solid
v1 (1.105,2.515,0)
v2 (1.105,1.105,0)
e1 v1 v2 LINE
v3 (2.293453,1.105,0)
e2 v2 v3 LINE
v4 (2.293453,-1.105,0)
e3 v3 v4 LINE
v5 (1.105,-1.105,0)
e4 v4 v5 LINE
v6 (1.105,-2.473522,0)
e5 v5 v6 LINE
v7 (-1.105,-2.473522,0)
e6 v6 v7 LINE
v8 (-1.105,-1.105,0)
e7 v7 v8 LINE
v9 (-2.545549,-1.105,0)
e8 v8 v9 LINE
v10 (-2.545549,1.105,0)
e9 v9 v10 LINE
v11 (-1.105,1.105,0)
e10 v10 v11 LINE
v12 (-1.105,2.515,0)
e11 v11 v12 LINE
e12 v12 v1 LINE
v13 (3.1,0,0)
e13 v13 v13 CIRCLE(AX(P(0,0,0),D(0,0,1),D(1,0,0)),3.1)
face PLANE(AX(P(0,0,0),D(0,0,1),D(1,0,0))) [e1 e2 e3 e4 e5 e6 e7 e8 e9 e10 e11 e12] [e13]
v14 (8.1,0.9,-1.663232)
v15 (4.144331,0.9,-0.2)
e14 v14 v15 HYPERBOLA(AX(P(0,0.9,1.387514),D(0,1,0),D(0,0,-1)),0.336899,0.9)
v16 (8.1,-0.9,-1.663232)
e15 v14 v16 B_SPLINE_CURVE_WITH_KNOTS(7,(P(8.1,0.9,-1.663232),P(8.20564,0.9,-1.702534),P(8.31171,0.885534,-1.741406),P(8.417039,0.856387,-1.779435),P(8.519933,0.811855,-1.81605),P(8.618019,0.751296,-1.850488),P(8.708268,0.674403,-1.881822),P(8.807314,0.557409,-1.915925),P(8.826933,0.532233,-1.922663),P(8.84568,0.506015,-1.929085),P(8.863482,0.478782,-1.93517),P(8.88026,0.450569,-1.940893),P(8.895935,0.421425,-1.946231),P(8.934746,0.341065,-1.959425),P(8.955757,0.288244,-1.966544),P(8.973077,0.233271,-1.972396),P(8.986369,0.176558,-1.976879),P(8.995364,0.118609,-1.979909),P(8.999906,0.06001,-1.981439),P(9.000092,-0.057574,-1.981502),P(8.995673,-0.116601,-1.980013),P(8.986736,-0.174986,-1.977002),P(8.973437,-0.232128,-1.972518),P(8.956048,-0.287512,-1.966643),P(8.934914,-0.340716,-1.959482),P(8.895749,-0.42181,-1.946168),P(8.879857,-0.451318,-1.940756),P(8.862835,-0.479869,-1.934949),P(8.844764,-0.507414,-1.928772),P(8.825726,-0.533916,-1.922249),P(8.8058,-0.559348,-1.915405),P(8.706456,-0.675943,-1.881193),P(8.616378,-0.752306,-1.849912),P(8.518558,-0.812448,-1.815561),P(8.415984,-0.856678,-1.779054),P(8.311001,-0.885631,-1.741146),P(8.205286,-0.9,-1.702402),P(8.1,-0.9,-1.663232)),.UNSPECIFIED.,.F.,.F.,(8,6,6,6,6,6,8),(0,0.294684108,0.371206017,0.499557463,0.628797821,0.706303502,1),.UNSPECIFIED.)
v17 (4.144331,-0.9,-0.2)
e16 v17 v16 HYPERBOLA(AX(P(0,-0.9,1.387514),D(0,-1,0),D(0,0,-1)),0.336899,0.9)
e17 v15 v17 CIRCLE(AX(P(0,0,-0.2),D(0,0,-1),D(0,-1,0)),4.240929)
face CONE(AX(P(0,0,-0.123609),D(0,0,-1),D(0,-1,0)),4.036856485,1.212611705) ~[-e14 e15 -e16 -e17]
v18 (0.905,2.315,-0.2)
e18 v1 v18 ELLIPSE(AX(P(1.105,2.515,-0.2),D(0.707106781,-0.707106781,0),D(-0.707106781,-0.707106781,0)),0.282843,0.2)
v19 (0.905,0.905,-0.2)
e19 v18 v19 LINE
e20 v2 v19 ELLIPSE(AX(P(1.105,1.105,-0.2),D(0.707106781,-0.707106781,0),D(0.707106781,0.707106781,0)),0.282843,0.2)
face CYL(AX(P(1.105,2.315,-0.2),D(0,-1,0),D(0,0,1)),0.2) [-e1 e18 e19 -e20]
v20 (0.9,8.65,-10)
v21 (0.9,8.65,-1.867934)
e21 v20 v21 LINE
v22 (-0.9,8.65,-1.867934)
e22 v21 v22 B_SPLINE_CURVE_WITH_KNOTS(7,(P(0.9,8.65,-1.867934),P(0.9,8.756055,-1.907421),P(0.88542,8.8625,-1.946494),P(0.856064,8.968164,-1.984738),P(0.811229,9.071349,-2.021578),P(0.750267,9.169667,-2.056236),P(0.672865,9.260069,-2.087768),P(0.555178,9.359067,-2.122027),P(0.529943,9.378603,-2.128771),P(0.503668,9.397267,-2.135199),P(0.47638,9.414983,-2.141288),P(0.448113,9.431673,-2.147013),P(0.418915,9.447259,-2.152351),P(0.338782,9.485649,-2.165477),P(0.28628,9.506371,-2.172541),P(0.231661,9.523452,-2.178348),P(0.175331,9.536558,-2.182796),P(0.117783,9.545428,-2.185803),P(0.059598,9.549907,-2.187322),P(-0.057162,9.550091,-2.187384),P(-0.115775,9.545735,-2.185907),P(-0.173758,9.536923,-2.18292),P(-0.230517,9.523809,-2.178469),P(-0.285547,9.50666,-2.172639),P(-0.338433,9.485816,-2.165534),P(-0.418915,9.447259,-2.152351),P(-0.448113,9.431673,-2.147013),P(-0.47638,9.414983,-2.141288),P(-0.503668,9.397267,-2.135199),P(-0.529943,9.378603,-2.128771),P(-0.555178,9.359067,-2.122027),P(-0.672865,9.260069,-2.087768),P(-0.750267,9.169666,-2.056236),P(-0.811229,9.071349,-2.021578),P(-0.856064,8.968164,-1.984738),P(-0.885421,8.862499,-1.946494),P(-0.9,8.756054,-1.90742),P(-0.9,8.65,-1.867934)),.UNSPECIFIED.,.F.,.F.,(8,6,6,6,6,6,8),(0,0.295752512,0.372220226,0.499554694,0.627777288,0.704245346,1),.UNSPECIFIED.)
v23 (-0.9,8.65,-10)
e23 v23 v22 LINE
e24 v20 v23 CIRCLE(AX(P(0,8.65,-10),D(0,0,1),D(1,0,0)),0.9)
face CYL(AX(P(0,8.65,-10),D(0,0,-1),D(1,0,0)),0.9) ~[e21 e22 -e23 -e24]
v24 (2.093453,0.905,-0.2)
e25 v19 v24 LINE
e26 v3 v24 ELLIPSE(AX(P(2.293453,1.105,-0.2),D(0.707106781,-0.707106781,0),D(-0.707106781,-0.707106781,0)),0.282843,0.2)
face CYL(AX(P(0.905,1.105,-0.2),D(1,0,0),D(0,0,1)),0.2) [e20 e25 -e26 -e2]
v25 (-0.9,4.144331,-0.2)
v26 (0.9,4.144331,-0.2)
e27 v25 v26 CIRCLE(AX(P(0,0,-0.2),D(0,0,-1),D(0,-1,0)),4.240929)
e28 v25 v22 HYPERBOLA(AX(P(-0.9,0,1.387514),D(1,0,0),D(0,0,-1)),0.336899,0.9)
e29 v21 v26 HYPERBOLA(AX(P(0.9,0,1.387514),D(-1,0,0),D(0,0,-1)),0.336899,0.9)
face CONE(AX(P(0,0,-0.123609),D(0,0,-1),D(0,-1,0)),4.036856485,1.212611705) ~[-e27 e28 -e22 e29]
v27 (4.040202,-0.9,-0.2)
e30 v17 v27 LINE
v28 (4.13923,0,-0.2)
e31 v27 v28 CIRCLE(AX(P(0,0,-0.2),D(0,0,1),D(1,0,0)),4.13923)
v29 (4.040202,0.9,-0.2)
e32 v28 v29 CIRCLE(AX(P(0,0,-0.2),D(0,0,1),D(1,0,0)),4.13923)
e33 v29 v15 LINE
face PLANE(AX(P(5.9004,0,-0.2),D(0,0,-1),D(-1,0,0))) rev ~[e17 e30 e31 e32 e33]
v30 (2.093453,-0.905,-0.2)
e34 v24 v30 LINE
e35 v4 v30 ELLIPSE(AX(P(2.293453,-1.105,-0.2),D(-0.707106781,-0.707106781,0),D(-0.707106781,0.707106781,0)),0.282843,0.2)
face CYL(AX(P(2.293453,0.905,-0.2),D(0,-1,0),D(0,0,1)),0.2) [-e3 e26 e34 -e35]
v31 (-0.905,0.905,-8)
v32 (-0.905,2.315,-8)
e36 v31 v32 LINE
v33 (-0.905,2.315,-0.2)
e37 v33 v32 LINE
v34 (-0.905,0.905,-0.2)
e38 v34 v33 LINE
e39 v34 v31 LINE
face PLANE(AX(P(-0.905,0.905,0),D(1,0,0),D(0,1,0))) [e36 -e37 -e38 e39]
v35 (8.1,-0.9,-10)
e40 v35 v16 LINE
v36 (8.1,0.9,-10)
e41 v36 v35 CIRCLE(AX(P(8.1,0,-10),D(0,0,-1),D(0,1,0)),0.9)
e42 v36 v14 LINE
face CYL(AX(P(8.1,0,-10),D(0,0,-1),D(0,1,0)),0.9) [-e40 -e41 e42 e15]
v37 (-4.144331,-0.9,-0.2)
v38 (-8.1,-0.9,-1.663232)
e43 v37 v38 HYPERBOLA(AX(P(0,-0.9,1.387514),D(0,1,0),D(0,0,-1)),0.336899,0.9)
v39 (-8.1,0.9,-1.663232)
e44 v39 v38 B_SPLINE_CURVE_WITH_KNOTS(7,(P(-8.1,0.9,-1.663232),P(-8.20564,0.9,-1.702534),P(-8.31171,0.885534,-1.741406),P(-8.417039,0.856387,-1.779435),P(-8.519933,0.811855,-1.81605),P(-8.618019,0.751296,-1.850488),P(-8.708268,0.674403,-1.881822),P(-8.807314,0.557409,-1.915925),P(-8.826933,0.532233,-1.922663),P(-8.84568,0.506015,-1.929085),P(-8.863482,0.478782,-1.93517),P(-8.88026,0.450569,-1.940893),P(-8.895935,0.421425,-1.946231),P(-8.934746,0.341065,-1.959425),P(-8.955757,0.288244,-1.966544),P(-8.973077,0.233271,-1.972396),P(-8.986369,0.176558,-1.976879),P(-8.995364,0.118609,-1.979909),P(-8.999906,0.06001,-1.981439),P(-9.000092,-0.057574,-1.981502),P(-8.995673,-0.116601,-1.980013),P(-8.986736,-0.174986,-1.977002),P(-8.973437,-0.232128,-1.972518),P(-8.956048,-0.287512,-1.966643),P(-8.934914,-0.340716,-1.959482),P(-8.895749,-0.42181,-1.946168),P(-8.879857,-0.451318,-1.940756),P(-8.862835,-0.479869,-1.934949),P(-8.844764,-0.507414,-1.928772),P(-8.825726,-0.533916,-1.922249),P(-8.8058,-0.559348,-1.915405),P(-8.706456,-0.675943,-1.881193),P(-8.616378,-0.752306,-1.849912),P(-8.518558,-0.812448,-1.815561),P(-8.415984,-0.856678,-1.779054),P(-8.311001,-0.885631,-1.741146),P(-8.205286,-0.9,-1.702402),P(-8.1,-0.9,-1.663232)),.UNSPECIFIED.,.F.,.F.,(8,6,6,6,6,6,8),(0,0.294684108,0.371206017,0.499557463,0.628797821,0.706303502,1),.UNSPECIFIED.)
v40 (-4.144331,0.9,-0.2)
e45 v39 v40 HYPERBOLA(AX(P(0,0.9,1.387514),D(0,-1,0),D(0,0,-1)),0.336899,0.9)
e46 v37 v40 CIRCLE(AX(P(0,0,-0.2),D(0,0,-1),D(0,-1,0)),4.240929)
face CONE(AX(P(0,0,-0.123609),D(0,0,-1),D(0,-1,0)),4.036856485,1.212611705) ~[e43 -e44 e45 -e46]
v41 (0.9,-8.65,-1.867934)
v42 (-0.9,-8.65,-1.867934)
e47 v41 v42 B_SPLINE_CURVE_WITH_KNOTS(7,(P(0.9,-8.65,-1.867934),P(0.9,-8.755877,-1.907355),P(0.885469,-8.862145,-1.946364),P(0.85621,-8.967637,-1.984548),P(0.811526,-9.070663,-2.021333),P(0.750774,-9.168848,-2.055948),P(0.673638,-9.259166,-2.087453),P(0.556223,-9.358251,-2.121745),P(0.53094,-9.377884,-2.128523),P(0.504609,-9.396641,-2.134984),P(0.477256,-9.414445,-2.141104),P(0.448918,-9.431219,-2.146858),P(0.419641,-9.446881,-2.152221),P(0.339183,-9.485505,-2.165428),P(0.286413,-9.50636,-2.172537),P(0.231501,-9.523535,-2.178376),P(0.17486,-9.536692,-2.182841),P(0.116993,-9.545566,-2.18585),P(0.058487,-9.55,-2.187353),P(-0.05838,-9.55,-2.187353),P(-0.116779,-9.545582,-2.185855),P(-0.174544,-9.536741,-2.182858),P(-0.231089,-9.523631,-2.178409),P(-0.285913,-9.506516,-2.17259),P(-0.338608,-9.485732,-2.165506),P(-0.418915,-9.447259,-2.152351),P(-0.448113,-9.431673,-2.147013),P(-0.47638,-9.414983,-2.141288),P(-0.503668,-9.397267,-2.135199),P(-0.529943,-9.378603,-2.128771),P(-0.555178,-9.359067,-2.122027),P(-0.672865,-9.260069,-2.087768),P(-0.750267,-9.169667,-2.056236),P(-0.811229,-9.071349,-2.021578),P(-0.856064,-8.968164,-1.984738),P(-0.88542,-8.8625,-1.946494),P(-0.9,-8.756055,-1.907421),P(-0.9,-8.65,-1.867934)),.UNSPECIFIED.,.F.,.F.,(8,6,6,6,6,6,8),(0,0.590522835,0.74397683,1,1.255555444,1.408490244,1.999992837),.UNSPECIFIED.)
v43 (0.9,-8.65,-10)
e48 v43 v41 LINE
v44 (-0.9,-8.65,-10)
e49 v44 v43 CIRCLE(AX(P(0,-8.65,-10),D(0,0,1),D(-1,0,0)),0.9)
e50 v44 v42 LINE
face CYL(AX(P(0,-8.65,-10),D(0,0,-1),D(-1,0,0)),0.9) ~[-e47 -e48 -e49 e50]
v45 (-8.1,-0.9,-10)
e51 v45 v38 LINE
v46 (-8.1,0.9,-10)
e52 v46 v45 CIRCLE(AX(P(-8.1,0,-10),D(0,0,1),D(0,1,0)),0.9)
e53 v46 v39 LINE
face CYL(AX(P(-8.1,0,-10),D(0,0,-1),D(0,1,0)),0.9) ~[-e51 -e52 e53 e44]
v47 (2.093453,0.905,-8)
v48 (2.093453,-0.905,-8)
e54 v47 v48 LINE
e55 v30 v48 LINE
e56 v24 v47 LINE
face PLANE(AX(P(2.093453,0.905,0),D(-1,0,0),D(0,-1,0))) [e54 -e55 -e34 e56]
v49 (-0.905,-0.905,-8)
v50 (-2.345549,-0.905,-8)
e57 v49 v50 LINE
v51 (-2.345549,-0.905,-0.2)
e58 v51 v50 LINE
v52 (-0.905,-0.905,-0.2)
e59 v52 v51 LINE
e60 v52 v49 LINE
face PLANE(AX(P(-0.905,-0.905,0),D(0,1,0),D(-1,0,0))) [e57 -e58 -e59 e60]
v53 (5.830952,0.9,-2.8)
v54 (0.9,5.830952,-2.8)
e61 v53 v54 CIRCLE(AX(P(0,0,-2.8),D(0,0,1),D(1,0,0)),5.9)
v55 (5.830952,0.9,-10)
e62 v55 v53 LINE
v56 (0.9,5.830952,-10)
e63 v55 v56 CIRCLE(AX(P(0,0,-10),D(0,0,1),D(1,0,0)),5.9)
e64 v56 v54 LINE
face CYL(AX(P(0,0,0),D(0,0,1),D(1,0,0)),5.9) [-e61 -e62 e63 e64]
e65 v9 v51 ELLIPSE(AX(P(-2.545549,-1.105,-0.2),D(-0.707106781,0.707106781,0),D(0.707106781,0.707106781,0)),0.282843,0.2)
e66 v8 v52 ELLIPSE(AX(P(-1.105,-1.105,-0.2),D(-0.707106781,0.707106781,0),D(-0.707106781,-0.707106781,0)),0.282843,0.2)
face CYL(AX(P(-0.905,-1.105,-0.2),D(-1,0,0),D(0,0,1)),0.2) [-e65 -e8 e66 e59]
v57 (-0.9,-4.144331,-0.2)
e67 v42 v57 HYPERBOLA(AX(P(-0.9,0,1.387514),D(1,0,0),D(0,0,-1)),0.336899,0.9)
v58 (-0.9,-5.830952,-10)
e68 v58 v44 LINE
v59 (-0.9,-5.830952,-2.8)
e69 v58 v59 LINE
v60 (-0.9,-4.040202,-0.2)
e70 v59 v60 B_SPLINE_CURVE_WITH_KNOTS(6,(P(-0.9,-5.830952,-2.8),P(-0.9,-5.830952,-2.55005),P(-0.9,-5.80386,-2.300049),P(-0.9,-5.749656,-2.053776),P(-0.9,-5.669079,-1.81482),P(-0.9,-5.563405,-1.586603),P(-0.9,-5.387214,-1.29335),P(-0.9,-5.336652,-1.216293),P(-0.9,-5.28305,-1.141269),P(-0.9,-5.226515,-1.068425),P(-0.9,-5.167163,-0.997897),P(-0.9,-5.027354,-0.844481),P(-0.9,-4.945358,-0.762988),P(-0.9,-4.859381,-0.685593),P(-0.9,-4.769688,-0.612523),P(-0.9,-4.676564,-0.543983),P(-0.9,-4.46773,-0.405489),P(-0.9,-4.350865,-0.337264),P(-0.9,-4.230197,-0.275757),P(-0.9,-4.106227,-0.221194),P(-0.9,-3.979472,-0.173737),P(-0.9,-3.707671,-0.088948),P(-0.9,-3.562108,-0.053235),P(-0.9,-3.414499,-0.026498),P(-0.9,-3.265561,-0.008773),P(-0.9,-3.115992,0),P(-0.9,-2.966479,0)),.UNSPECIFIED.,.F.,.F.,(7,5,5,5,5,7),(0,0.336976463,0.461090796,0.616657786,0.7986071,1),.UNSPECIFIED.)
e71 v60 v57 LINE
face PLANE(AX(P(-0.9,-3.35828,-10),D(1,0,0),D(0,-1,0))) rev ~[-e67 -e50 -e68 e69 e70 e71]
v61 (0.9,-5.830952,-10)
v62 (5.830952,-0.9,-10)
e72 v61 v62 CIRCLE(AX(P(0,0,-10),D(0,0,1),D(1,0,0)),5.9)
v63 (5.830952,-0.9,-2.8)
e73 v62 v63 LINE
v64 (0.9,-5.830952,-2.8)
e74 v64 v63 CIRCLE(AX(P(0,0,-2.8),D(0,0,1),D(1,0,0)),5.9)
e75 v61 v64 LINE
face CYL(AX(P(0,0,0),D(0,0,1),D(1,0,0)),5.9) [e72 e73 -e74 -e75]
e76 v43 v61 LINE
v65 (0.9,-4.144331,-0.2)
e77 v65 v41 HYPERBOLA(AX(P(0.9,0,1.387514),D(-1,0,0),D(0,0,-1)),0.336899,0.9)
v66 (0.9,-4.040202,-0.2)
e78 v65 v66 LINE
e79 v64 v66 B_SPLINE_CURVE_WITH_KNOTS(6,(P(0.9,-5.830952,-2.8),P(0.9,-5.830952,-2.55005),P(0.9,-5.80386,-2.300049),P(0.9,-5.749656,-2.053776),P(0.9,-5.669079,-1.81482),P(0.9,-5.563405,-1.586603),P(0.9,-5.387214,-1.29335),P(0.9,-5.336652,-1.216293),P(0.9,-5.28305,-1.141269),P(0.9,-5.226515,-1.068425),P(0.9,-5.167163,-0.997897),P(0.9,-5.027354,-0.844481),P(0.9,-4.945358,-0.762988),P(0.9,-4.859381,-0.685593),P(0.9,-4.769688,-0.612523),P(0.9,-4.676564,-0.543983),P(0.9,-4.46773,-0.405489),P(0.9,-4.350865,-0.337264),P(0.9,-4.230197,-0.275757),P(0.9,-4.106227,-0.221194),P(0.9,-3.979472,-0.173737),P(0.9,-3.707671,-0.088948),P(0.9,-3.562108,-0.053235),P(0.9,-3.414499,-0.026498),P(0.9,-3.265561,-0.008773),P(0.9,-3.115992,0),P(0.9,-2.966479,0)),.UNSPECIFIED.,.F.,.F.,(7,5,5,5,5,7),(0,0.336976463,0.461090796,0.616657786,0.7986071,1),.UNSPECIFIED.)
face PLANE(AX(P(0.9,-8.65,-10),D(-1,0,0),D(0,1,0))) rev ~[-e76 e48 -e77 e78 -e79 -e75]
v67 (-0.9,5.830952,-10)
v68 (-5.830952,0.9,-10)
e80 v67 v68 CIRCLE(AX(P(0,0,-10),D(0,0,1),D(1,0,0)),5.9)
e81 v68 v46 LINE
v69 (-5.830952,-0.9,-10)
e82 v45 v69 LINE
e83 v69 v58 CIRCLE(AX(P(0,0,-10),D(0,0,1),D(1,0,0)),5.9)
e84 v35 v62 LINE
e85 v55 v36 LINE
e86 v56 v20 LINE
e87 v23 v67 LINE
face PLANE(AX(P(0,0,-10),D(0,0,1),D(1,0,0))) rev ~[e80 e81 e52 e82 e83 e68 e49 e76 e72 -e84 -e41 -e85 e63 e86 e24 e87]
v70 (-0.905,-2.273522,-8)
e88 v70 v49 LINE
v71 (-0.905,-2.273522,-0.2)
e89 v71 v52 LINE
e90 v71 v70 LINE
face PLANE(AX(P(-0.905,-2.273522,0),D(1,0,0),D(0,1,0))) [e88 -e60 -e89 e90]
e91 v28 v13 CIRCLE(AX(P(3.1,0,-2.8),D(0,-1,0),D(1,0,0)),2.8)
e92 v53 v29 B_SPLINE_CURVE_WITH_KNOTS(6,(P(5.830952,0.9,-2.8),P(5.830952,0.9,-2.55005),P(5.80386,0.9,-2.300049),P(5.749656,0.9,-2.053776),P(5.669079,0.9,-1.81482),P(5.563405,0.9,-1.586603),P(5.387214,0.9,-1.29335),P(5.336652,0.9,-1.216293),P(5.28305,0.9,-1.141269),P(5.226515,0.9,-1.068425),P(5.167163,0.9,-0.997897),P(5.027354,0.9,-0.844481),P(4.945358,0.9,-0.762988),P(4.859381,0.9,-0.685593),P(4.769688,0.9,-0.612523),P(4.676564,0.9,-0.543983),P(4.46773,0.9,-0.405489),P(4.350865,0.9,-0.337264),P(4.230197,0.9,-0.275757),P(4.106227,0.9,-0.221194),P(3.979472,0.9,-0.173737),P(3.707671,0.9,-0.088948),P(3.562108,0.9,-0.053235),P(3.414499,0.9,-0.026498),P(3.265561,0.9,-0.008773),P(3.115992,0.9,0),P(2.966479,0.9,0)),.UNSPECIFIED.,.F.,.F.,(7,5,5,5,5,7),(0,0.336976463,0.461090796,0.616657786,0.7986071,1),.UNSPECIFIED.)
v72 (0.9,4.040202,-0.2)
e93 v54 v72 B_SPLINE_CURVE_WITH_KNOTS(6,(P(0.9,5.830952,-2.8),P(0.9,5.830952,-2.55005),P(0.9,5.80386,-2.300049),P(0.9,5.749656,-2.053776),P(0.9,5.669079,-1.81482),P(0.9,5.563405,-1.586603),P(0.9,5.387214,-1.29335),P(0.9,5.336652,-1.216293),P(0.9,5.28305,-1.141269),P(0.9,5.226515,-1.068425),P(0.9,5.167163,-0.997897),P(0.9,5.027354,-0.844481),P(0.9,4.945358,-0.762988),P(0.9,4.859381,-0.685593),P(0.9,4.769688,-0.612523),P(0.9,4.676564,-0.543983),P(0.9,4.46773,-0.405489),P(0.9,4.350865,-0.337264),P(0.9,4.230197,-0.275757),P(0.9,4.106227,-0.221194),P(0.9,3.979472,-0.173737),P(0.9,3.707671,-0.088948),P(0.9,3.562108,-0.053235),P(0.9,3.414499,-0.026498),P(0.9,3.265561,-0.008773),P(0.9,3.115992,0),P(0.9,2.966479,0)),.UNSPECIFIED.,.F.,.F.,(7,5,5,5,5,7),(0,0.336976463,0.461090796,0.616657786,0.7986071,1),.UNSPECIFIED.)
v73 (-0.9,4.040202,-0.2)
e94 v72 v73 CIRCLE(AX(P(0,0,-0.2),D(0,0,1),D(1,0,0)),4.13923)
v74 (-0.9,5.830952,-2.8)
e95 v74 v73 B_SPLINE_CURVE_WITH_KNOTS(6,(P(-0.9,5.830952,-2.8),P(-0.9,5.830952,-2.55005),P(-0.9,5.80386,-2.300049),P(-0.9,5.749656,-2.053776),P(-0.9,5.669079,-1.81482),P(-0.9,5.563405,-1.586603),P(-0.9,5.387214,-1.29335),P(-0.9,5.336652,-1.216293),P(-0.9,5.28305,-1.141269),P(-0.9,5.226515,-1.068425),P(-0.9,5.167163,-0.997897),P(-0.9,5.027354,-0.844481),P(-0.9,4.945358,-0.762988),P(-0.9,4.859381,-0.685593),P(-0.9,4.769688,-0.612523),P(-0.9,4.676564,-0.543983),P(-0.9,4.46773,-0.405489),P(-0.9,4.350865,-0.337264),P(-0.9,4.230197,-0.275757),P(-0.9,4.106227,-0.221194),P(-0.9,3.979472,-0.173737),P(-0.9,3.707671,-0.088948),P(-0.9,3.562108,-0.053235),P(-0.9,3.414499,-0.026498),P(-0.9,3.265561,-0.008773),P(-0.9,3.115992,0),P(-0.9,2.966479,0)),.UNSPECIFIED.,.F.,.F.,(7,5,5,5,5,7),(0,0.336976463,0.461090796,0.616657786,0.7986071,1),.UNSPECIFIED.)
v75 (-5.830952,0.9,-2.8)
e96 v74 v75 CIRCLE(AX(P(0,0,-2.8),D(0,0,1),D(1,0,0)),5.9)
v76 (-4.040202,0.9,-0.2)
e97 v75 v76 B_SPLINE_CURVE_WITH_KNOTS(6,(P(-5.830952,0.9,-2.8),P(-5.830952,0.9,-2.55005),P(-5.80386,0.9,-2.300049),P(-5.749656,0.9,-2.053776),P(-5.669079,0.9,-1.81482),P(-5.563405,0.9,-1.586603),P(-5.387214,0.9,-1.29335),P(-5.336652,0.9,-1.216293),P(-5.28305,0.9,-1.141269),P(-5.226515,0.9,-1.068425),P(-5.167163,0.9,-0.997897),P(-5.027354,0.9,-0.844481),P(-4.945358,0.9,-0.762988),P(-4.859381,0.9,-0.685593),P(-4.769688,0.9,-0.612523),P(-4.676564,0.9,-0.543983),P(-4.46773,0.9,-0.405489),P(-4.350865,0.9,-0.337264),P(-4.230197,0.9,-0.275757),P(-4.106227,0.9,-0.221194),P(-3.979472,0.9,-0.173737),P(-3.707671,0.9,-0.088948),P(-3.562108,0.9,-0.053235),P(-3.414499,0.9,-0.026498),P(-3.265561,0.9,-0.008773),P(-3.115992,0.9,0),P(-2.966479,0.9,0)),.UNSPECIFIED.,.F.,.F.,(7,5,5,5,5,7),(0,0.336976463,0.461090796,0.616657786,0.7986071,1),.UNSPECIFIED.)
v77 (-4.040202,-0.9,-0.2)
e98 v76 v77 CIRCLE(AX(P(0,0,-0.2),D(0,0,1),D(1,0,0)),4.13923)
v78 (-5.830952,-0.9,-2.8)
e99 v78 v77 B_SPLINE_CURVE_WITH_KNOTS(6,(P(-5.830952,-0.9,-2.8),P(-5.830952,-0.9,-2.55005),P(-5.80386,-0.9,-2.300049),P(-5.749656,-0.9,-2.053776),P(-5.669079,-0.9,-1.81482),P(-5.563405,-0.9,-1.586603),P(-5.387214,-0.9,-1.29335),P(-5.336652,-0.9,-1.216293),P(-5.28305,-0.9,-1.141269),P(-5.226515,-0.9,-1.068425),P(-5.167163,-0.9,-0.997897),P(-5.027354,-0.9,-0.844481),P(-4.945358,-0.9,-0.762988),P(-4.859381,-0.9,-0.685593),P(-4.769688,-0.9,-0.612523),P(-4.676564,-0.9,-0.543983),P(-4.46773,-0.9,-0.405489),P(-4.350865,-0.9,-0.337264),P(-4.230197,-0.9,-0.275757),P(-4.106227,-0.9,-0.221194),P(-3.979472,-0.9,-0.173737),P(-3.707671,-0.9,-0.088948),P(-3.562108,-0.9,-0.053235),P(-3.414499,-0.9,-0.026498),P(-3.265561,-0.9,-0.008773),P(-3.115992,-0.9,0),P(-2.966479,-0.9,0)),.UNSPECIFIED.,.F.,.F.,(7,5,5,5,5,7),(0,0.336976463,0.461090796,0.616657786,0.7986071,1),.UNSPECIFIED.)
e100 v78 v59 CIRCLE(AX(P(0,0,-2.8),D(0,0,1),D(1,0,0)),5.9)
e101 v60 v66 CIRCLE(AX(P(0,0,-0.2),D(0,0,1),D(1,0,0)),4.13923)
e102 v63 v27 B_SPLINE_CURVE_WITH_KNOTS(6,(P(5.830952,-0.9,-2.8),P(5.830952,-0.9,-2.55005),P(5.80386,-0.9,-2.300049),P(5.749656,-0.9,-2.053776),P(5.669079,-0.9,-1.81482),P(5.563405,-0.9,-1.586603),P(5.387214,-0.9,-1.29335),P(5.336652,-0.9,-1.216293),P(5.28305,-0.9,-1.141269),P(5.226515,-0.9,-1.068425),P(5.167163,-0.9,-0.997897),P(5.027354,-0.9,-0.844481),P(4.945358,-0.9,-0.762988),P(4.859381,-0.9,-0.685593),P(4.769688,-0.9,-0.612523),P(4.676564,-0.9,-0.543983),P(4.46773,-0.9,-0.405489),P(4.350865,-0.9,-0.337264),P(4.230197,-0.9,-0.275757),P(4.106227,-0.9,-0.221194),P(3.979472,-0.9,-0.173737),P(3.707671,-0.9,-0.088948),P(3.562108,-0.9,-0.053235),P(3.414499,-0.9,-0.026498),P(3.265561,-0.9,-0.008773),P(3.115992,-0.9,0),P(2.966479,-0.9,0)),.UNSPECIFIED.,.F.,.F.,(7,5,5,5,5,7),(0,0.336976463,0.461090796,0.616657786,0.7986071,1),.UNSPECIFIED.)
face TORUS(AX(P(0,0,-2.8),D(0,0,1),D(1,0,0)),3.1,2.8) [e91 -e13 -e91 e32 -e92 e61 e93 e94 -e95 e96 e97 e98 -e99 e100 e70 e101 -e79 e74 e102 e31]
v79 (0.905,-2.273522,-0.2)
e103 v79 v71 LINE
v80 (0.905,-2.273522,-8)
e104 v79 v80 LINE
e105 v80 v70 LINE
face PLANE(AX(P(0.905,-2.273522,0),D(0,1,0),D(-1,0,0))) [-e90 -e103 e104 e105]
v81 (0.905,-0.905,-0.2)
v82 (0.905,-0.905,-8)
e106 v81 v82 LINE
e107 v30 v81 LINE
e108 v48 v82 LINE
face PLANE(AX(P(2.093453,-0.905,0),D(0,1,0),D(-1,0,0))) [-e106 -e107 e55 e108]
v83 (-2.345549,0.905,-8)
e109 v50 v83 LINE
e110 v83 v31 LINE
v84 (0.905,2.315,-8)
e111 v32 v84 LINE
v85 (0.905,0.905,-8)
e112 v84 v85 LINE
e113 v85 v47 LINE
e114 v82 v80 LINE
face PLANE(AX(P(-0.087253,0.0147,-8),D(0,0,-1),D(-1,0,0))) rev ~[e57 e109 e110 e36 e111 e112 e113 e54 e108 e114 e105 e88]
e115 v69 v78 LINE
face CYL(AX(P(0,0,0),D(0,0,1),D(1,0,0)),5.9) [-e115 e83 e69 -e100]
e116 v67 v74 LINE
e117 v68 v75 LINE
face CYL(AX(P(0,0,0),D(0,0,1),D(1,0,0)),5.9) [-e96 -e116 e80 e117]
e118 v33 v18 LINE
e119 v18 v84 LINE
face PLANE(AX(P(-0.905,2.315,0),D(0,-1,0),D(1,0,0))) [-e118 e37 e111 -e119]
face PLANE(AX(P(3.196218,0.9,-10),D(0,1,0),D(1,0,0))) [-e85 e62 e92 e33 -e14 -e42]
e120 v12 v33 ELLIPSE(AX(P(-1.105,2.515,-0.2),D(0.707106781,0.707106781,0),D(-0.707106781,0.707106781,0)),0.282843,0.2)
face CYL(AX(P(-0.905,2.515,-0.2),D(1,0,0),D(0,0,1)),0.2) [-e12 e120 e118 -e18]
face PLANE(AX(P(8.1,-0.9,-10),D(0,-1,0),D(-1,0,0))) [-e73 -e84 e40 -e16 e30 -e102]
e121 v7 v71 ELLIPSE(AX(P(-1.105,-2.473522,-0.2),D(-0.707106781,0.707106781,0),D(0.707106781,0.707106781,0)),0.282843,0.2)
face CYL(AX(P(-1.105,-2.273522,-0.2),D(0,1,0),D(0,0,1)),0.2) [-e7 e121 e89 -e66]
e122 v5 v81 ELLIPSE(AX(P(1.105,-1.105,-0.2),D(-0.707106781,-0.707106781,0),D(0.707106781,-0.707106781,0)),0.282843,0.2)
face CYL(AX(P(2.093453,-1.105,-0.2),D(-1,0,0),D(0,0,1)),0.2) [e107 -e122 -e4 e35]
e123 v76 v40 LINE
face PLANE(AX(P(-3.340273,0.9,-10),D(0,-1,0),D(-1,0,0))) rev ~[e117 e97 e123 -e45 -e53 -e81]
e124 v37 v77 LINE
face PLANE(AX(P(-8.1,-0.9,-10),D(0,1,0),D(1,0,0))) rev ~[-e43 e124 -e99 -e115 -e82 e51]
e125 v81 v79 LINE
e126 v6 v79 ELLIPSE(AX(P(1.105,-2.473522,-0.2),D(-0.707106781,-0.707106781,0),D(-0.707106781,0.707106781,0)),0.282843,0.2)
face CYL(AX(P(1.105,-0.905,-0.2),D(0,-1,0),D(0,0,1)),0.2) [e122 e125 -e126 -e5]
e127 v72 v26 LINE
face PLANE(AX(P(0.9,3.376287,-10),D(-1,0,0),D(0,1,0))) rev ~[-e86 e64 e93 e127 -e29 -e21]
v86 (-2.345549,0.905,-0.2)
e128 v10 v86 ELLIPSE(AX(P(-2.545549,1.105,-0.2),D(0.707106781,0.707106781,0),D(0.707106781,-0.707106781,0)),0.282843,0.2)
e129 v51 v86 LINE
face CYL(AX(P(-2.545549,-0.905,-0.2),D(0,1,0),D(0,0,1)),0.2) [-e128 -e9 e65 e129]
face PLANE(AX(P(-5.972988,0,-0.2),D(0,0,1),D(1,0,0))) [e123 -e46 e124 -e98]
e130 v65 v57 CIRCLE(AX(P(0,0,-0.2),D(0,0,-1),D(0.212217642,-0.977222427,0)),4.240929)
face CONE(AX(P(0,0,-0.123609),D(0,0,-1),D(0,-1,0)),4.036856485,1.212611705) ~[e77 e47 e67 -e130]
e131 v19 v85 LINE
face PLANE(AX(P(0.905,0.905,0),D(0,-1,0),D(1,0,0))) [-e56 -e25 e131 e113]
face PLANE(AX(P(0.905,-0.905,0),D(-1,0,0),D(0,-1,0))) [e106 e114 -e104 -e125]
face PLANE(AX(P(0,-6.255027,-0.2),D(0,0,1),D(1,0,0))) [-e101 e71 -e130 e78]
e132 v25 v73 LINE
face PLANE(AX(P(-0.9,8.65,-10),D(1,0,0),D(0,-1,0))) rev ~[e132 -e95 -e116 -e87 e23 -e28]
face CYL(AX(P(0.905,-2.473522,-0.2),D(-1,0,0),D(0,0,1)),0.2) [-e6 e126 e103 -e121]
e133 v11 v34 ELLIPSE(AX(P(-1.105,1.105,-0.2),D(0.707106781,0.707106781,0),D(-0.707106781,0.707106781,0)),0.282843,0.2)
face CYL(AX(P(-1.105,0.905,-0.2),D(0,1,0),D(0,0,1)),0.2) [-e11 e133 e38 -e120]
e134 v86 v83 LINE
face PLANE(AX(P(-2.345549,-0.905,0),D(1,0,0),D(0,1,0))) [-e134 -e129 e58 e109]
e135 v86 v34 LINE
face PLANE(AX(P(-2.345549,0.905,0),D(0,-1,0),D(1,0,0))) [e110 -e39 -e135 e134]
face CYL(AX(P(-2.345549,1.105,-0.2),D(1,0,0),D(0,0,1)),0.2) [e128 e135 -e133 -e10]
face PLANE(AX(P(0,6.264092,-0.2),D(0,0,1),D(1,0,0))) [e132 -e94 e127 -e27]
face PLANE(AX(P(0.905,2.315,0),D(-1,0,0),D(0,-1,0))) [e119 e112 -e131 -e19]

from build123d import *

# Parameters (mm, degrees)
SKETCH1_R      = 5.9
EXTRUDE1_DEPTH = 10
FILLET1_R      = 2.8
EXTRUDE2_DEPTH = 8
FILLET2_R      = 0.2
EXTRUDE3_DEPTH = 9.8


with BuildPart() as part:
    # Sketch1 → Extrude1 (new body)
    with BuildSketch(Plane.XY):
        Circle(SKETCH1_R)
    extrude(amount=-EXTRUDE1_DEPTH)

    # Fillet1
    fillet1_edges = [part.edges().sort_by_distance(p)[0] for p in [
        (-5.9, 0, 0),
    ]]
    fillet(fillet1_edges, radius=FILLET1_R)

    # Sketch2 → Extrude2 (cut)
    with BuildSketch(Plane.XY):
        Polygon((-0.905, 2.315), (0.905, 2.315), (0.905, 0.905), (2.09345294, 0.905), (2.09345294, -0.905), (0.905, -0.905), (0.905, -2.273521567), (-0.905, -2.273521567), (-0.905, -0.905), (-2.345549018, -0.905), (-2.345549018, 0.905), (-0.905, 0.905), align=None)
    extrude(amount=-EXTRUDE2_DEPTH, mode=Mode.SUBTRACT)

    # Fillet2
    fillet2_edges = [part.edges().sort_by_distance(p)[0] for p in [
        (-0.905, 1.61, 0),
        (-1.625274509, 0.905, 0),
        (-2.345549018, 0, 0),
        (-1.625274509, -0.905, 0),
        (-0.905, -1.589260784, 0),
        (0, -2.273521567, 0),
        (0.905, -1.589260784, 0),
        (1.49922647, -0.905, 0),
        (2.09345294, 0, 0),
        (1.49922647, 0.905, 0),
        (0.905, 1.61, 0),
        (0, 2.315, 0),
    ]]
    fillet(fillet2_edges, radius=FILLET2_R)

    # Sketch3 → Extrude3 (add)
    with BuildSketch(Plane(origin=(0, 0, -10), x_dir=(-1, 0, 0), z_dir=(0, 0, -1))):
        with BuildLine():
            Line((-3.196218134, 0.9), (-8.1, 0.9))
            ThreePointArc((-8.1, 0.9), (-9, 0), (-8.1, -0.9))
            Line((-8.1, -0.9), (-3.196218134, -0.9))
            Line((-3.196218134, -0.9), (-3.196218134, 0.9))
        make_face()
        with BuildLine():
            Line((0.9, 3.376286761), (-0.9, 3.376286761))
            Line((-0.9, 3.376286761), (-0.9, 8.65))
            ThreePointArc((-0.9, 8.65), (0, 9.55), (0.9, 8.65))
            Line((0.9, 8.65), (0.9, 3.376286761))
        make_face()
        with BuildLine():
            Line((3.340273036, 0.9), (8.1, 0.9))
            ThreePointArc((8.1, 0.9), (9, 0), (8.1, -0.9))
            Line((8.1, -0.9), (3.340273036, -0.9))
            Line((3.340273036, -0.9), (3.340273036, 0.9))
        make_face()
        with BuildLine():
            Line((-0.9, -3.358279899), (0.9, -3.358279899))
            Line((0.9, -3.358279899), (0.9, -8.65))
            ThreePointArc((0.9, -8.65), (0, -9.55), (-0.9, -8.65))
            Line((-0.9, -8.65), (-0.9, -3.358279899))
        make_face()
    extrude(amount=-EXTRUDE3_DEPTH)

    # Sketch6 → Cut-Revolve3 (revolve, cut)
    with BuildSketch(Plane(origin=(0, 0, 0), x_dir=(0, 0, -1), z_dir=(1, 0, 0))):
        Polygon((2.318539135, -9.900453163), (-0.04993414, -9.900453163), (0.123609111, -4.036856485), align=None)
    revolve(axis=Axis((0, 0, -10.502496707), (0, 0, 1)), mode=Mode.SUBTRACT)


solid = part.part
